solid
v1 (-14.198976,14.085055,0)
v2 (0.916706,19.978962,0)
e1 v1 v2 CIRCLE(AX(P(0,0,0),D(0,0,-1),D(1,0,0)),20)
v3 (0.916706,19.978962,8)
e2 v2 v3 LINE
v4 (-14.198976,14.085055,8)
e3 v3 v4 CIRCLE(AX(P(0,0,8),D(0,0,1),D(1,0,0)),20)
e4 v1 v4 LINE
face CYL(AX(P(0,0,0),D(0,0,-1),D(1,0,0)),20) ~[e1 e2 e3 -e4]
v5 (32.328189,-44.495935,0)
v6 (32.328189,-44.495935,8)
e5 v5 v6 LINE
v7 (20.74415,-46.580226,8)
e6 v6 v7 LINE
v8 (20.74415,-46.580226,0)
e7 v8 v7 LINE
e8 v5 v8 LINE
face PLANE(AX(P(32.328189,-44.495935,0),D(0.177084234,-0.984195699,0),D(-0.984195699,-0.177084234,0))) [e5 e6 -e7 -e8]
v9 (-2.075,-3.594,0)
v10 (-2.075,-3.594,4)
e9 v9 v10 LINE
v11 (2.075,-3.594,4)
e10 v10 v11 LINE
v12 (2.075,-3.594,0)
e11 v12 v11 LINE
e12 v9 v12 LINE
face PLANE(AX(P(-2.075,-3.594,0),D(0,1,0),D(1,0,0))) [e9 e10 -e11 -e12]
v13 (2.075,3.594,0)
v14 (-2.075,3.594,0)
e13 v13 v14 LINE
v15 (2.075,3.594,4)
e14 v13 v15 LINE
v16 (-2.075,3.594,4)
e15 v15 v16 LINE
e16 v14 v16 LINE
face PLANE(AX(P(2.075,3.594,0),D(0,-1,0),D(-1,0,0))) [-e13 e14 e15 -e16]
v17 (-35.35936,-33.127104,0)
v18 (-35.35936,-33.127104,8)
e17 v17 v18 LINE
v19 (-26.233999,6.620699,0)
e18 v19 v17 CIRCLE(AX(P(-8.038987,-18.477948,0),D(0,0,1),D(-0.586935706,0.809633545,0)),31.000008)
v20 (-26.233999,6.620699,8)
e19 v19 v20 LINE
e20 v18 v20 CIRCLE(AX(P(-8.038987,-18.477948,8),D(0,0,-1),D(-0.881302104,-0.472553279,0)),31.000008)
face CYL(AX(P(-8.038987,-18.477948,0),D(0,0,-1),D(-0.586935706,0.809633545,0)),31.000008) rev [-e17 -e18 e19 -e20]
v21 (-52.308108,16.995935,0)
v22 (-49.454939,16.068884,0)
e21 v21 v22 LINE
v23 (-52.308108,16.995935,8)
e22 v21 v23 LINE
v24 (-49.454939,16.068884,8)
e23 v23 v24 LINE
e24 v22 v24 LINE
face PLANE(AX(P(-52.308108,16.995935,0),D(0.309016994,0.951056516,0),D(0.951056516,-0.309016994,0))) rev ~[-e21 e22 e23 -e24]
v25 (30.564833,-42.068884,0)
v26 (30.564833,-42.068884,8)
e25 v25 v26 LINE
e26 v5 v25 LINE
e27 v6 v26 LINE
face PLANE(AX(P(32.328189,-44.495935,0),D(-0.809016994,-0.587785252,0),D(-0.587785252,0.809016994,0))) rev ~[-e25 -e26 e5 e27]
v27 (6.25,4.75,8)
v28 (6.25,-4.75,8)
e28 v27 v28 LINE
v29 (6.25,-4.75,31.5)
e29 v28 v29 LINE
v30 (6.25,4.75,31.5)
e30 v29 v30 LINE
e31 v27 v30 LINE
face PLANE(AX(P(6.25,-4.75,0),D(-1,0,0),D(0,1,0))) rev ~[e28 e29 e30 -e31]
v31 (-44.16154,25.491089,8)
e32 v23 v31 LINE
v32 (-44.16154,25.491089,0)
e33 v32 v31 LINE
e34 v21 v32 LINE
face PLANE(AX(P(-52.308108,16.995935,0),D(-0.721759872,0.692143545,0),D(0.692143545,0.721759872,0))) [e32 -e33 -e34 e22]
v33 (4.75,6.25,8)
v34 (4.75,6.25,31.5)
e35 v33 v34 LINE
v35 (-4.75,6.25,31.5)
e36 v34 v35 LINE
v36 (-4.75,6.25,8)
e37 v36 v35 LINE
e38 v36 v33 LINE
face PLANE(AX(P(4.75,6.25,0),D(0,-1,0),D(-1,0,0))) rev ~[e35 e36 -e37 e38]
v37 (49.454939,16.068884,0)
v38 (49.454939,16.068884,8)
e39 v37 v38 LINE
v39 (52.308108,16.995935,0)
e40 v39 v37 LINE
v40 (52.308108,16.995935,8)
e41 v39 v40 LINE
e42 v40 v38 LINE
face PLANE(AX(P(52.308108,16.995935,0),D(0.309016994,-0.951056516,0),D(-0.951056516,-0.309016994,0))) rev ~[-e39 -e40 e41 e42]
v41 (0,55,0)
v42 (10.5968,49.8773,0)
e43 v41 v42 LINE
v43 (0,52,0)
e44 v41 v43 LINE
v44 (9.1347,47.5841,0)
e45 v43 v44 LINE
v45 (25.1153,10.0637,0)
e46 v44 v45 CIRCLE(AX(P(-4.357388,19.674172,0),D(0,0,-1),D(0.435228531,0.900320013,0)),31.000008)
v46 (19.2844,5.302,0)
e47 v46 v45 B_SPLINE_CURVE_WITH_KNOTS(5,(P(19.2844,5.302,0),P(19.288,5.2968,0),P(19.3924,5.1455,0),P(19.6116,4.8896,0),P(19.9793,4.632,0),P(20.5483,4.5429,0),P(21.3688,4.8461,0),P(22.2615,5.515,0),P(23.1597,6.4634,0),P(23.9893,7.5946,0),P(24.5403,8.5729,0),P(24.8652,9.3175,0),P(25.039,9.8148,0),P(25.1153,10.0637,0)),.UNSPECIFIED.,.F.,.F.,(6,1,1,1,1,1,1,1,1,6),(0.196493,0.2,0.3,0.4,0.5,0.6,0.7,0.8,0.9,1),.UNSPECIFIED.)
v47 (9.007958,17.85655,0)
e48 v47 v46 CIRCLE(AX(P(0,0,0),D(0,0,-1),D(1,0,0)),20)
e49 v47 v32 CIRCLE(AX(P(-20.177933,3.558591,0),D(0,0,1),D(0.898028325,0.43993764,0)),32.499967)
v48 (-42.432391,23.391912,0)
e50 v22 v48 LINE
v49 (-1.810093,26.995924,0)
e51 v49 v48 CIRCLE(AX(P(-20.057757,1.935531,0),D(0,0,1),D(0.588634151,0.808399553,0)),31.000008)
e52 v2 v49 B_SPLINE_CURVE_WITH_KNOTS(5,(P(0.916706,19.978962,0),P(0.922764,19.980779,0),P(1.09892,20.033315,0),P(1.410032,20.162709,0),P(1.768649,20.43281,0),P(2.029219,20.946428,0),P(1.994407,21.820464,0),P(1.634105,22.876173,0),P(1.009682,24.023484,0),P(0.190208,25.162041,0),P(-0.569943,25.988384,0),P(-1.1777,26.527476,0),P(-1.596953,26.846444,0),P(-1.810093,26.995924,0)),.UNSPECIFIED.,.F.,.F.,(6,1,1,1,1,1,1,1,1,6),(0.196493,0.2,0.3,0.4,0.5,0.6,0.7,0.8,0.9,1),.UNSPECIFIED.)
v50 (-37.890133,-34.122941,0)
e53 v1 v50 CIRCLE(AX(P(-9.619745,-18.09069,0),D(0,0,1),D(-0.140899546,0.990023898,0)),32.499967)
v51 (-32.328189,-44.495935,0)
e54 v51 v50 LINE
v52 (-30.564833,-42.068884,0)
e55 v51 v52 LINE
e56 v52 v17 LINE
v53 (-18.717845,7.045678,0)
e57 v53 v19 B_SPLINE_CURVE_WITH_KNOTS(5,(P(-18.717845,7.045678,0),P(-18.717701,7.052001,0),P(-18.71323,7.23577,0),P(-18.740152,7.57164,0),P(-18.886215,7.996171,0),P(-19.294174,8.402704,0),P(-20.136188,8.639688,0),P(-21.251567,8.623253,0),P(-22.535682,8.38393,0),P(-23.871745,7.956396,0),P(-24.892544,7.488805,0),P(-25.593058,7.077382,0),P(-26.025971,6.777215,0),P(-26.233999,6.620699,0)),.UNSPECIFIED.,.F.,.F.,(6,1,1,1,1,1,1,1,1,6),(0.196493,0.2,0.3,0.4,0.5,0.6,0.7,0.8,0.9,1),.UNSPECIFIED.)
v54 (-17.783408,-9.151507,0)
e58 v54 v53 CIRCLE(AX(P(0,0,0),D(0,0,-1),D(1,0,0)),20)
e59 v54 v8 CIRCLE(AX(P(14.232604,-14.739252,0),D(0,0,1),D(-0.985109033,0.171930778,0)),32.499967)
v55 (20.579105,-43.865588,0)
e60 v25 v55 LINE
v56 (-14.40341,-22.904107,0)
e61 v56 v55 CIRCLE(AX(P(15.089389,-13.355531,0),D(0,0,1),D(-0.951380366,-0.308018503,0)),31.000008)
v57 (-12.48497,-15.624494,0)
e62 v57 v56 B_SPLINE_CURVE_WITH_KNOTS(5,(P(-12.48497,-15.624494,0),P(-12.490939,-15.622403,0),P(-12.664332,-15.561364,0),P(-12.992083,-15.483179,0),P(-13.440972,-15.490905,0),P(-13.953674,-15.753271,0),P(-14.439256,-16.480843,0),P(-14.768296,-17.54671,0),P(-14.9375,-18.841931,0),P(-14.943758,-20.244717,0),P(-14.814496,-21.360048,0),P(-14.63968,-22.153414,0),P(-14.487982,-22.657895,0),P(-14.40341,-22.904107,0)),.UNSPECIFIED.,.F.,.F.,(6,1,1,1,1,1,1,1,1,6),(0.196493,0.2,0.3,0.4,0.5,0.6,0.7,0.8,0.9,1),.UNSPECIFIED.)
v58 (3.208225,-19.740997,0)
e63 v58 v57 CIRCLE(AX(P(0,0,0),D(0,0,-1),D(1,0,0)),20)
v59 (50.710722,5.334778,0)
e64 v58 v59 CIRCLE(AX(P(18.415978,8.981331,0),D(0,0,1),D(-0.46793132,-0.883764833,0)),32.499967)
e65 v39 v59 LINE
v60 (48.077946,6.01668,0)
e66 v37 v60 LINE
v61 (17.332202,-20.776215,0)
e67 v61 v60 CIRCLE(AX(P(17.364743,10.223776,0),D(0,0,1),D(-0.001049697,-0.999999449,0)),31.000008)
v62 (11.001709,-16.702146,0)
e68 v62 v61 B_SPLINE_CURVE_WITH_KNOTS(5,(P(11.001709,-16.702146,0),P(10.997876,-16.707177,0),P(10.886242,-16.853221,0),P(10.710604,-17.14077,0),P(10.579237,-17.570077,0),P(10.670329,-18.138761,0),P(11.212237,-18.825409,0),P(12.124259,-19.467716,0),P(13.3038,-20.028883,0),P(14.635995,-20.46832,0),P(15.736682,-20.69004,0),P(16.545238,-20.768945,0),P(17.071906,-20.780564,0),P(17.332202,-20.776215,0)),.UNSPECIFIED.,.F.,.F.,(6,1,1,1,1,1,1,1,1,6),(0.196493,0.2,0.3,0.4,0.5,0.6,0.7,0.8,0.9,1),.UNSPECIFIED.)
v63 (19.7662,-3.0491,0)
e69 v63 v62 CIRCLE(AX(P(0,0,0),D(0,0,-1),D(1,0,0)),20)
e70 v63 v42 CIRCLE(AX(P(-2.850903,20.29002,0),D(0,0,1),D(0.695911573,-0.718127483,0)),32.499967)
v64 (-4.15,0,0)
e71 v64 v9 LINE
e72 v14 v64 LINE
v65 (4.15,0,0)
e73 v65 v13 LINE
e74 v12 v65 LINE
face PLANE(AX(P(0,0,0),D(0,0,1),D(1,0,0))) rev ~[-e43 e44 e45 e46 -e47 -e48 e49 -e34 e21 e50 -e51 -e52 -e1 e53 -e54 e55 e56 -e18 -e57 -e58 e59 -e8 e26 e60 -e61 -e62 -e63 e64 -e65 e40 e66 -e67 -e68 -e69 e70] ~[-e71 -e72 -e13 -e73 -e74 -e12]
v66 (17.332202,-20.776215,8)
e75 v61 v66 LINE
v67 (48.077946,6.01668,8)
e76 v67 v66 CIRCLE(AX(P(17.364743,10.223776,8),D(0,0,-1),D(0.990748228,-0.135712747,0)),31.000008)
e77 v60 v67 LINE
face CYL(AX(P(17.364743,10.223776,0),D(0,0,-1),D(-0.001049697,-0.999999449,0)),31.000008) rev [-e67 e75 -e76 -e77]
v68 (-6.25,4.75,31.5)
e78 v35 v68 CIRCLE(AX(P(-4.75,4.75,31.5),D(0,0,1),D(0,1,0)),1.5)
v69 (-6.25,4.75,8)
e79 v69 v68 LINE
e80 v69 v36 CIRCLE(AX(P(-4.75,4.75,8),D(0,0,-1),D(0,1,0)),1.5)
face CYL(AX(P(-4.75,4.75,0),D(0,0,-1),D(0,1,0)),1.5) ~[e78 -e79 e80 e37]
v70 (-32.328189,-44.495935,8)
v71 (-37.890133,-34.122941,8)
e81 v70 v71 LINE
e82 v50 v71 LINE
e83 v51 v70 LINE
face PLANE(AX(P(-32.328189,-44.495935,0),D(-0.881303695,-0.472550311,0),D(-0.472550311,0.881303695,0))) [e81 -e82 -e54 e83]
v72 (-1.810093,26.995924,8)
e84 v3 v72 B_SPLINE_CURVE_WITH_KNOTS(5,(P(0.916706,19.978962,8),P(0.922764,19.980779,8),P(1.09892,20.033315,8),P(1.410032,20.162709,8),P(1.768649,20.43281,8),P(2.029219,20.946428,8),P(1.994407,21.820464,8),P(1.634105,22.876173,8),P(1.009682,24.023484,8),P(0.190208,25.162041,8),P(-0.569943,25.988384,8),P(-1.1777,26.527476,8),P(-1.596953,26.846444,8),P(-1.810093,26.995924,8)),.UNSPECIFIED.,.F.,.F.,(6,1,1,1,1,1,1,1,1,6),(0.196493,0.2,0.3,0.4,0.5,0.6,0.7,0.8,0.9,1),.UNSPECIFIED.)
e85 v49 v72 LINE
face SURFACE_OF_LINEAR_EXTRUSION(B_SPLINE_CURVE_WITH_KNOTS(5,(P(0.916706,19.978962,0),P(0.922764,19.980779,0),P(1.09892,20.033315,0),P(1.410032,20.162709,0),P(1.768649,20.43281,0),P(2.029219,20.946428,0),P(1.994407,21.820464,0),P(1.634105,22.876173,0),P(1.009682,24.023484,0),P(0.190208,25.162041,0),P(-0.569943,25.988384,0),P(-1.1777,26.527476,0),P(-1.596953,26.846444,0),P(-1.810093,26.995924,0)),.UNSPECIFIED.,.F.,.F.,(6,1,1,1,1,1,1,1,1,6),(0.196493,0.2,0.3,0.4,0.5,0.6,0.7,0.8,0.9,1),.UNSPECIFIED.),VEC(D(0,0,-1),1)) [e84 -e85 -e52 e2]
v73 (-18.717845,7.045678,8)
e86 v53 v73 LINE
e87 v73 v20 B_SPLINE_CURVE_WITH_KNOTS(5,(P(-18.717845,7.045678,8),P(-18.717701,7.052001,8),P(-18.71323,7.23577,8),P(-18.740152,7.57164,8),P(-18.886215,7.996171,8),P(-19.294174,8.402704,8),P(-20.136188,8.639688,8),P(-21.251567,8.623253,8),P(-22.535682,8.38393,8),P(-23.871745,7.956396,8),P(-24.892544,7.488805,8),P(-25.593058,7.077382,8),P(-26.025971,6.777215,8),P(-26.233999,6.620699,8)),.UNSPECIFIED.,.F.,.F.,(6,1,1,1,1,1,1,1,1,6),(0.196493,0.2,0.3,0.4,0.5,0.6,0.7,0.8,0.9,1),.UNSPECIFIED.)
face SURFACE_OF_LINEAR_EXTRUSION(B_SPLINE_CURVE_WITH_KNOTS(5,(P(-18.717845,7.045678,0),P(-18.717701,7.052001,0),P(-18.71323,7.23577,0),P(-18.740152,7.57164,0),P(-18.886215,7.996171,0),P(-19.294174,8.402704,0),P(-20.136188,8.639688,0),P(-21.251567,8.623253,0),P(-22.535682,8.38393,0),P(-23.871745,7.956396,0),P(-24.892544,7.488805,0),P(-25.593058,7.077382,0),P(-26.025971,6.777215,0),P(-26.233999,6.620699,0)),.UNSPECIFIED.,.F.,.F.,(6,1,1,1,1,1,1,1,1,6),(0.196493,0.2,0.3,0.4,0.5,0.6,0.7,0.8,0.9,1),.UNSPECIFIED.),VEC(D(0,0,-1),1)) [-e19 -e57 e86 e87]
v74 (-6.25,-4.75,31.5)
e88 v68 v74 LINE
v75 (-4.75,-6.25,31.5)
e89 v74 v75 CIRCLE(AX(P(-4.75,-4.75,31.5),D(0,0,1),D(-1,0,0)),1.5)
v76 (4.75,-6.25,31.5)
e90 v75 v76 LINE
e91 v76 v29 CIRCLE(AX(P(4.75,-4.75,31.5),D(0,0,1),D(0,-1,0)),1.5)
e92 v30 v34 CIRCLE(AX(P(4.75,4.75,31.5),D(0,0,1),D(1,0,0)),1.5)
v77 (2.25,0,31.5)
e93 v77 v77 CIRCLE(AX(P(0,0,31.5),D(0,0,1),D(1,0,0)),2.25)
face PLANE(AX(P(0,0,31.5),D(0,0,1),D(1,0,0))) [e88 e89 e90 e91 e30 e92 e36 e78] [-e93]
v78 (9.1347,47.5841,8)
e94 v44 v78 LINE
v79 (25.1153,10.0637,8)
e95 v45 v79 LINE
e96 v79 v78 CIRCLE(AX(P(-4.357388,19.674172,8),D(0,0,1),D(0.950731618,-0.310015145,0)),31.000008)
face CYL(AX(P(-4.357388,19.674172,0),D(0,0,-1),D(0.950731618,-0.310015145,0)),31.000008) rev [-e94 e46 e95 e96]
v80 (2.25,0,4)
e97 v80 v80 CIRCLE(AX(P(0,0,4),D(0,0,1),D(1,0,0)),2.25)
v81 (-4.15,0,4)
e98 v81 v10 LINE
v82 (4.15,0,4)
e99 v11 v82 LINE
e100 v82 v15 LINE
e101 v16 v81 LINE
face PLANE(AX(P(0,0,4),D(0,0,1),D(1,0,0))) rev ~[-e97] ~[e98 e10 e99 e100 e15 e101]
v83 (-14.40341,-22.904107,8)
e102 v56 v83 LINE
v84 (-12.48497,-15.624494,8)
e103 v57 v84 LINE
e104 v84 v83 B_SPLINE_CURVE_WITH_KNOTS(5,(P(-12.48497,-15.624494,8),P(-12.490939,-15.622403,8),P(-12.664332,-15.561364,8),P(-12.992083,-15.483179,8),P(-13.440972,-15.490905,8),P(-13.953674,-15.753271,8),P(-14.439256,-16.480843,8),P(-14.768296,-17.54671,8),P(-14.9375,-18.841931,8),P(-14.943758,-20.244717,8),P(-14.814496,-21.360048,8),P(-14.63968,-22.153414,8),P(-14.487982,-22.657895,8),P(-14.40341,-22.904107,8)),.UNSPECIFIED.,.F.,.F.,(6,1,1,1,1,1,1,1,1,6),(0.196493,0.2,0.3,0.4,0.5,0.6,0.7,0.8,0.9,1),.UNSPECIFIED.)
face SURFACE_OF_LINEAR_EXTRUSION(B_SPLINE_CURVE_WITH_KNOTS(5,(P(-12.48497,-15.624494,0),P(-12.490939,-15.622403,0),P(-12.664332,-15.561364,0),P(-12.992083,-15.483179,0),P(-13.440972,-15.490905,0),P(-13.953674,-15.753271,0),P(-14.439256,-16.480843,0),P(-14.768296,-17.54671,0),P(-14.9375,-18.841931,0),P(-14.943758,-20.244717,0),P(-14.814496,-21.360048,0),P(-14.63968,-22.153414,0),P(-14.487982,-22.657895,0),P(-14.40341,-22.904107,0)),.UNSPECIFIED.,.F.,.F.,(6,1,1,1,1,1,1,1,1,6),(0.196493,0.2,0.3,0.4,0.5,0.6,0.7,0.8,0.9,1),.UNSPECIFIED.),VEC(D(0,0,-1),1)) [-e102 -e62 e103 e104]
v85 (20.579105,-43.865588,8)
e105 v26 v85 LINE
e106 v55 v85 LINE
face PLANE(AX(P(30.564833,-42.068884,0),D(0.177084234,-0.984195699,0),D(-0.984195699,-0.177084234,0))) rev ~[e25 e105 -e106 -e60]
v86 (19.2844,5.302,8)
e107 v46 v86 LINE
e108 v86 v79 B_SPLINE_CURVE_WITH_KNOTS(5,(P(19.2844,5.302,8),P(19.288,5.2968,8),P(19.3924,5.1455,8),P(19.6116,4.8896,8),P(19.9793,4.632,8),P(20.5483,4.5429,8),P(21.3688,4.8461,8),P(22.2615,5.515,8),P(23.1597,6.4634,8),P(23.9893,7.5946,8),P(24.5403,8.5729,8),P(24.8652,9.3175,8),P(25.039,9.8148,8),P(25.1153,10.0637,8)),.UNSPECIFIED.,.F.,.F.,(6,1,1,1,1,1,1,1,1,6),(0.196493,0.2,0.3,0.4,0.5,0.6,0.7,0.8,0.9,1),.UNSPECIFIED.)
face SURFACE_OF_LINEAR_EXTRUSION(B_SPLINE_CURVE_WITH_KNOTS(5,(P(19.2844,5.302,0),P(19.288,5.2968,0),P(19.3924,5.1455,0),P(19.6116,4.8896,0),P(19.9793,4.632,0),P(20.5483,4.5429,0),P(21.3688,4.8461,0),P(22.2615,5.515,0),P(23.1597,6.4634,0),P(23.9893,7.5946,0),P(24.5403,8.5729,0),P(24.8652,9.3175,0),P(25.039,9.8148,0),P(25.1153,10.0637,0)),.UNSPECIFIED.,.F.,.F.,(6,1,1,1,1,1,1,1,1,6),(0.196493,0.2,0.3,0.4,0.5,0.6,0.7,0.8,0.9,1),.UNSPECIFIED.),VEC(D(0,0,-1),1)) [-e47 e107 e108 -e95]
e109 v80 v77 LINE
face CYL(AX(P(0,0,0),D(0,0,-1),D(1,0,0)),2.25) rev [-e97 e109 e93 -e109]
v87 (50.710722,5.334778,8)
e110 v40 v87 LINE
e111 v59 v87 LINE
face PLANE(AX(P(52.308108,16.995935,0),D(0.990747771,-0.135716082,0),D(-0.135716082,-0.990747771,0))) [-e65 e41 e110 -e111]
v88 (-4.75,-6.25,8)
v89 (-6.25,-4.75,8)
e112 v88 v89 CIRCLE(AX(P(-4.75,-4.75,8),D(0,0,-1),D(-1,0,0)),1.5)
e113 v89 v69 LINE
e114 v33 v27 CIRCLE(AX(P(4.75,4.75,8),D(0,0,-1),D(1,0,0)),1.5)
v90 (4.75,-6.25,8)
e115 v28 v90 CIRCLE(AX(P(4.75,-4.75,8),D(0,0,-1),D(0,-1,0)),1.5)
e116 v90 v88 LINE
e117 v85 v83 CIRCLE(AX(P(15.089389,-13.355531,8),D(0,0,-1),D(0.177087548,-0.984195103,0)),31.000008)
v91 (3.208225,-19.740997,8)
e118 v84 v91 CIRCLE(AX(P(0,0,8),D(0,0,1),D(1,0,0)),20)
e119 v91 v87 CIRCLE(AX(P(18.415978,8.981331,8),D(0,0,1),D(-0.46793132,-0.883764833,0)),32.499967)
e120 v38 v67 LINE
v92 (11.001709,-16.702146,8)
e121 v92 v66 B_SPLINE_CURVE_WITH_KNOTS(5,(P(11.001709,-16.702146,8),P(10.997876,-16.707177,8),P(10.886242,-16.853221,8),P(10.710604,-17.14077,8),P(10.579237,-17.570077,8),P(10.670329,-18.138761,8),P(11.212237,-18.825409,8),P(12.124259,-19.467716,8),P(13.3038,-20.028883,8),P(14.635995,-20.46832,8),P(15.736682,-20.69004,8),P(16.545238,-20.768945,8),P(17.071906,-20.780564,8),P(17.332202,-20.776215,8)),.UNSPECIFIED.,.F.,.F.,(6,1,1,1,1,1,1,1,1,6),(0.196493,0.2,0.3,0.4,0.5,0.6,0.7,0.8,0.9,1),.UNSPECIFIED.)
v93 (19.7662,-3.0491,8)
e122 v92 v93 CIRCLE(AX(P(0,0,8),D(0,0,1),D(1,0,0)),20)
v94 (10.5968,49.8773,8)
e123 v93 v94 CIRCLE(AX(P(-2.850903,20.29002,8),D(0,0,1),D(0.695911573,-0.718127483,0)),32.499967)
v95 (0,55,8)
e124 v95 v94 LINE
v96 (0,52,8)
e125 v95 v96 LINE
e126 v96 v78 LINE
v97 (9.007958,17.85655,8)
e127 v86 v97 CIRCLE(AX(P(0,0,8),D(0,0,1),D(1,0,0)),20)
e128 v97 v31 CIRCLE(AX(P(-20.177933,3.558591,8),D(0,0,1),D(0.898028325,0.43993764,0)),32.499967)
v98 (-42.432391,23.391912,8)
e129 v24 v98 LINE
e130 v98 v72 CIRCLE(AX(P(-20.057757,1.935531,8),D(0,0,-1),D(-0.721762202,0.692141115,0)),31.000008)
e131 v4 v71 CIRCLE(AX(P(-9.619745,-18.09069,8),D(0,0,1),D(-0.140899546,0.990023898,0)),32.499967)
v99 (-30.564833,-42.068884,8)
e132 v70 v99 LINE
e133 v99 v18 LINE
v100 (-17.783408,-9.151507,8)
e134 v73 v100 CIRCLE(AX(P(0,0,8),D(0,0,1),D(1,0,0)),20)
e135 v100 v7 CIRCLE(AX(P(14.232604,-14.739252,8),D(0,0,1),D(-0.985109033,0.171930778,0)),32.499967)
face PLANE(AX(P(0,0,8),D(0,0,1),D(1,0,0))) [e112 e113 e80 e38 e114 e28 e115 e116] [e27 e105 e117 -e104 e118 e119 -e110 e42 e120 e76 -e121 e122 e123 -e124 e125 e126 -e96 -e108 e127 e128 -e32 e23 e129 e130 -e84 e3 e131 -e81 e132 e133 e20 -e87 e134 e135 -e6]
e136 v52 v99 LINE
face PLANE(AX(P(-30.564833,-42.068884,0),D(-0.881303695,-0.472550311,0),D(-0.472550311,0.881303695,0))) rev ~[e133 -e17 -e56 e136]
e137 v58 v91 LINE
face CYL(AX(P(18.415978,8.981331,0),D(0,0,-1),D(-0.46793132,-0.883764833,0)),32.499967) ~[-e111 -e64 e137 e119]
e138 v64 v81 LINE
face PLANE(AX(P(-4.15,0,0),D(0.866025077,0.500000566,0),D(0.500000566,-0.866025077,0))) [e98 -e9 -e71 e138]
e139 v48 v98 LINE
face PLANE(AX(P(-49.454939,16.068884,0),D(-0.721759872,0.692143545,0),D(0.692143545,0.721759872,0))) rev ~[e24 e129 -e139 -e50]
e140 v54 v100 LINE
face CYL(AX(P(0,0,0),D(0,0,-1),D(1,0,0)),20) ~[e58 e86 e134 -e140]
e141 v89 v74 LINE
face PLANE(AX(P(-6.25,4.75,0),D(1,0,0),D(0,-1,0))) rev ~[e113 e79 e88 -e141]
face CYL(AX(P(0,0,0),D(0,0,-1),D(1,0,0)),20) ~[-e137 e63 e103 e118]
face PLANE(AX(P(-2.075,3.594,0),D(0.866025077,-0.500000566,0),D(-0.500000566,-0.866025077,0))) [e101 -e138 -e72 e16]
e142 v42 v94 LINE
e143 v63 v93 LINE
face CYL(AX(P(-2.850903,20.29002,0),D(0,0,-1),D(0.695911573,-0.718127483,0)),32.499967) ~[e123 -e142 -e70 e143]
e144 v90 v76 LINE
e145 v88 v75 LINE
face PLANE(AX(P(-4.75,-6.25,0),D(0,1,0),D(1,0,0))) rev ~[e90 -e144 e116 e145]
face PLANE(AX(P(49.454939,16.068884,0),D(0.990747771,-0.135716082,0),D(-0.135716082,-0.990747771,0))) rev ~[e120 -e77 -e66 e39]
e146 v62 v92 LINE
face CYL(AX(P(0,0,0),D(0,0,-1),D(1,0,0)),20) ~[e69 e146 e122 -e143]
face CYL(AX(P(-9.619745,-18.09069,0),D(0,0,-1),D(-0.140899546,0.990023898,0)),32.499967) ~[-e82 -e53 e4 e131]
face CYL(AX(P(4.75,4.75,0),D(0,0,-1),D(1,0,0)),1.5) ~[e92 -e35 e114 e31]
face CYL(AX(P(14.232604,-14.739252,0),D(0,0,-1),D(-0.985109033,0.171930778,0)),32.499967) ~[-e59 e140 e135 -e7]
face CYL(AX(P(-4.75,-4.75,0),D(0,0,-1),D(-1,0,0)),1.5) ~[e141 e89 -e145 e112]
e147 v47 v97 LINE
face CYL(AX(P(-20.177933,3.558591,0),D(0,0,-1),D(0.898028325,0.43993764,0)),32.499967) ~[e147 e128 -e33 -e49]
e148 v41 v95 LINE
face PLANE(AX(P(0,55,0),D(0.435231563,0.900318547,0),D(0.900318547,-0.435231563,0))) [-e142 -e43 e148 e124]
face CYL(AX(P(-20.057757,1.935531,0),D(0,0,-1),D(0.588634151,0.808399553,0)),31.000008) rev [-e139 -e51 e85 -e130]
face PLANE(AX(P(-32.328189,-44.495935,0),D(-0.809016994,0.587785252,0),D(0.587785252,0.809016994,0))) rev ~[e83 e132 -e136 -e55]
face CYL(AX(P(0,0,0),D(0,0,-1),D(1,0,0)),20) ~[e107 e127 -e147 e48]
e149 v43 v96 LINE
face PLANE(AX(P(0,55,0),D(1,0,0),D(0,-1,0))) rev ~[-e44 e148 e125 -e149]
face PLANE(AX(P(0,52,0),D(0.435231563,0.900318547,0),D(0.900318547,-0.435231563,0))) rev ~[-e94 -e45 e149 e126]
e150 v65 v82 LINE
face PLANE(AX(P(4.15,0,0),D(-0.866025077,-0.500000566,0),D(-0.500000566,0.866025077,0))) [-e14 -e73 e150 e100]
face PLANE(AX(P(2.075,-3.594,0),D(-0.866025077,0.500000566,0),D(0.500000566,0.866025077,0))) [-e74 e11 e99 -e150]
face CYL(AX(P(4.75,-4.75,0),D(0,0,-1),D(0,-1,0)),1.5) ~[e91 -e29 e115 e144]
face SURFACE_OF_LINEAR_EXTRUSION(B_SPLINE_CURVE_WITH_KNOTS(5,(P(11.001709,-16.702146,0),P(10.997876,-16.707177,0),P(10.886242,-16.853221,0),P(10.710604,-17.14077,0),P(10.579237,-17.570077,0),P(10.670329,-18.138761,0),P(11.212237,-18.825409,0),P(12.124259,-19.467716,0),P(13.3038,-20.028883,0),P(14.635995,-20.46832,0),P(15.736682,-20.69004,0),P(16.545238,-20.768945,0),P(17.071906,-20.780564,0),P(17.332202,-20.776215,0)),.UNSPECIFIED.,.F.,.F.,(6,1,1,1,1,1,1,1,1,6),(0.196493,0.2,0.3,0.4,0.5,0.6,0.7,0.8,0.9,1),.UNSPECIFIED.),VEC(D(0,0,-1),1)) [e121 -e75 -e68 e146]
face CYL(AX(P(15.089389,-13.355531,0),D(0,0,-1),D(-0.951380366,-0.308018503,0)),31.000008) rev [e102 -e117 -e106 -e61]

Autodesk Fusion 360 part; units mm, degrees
sketch "bottom" plane through (0, 0, 0) normal (0, 0, 1) x (1, 0, 0)
  circle A0 centre (0, 0) radius 2.25
  line L0 (4.15, 0) -> (2.075, 3.594)
  line L1 (2.075, 3.594) -> (-2.075, 3.594)
  line L2 (-2.075, 3.594) -> (-4.15, 0)
  line L3 (-4.15, 0) -> (-2.075, -3.594)
  line L4 (-2.075, -3.594) -> (2.075, -3.594)
  line L5 (2.075, -3.594) -> (4.15, 0)
  line L6 (4.75, 6.25) -> (-4.75, 6.25)
  line L7 (-6.25, 4.75) -> (-6.25, -4.75)
  line L8 (-4.75, -6.25) -> (4.75, -6.25)
  line L9 (6.25, -4.75) -> (6.25, 4.75)
  line L10 (6.25, 6.25) -> (-6.25, -6.25) construction
  line L11 (-6.25, 6.25) -> (6.25, -6.25) construction
  arc A1 (4.75, -6.25) -> (6.25, -4.75) centre (4.75, -4.75) ccw
  arc A2 (-6.25, -4.75) -> (-4.75, -6.25) centre (-4.75, -4.75) ccw
  arc A3 (-4.75, 6.25) -> (-6.25, 4.75) centre (-4.75, 4.75) ccw
  arc A4 (6.25, 4.75) -> (4.75, 6.25) centre (4.75, 4.75) ccw
  circle A5 centre (0, 0) radius 20
  circle A6 centre (0, 0) radius 55
  line L12 (0, 55) -> (0, 52)
  line L13 (0, 55) -> (10.5968, 49.8773)
  line L14 (0, 55) -> (11.77, 55) construction
  line L15 (0, 52) -> (10.5968, 46.8773)
  arc A7 (25.1153, 10.0637) -> (9.1347, 47.5841) centre (-4.3574, 19.6742) ccw
  arc A8 (19.7662, -3.0491) -> (10.5968, 49.8773) centre (-2.8509, 20.29) ccw
  spline S0 degree 5 poles (19.2844, 5.302) (19.288, 5.2968) (19.3924, 5.1455) (19.6116, 4.8896) (19.9793, 4.632) (20.5483, 4.5429) (21.3688, 4.8461) (22.2615, 5.515) (23.1597, 6.4634) (23.9893, 7.5946) (24.5403, 8.5729) (24.8652, 9.3175) (25.039, 9.8148) (25.1153, 10.0637) knots 0.196493 0.196493 0.196493 0.196493 0.196493 0.196493 0.2 0.3 0.4 0.5 0.6 0.7 0.8 0.9 1 1 1 1 1 1
  line L16 (18.6573, 6.2172) -> (19.9116, 4.3867)
  line L17 (24.8256, 9.1182) -> (25.4049, 11.0092)
  point P0 (20.8497, 4.7036)
  dimension "d1" = 4.5
  dimension "d2" = 4.15
  dimension "d3" = 12.5
  dimension "d4" = 12.5
  dimension "d5" = 1.5
  dimension "d6" = 1.5
  dimension "d7" = 1.5
  dimension "d8" = 40
  dimension "d9" = 110
  dimension "d10" = 3
  dimension "d11" = 25.8
  dimension "d12" = 11.77
  dimension "d13" = 11.77
  dimension "d14" = 62
  dimension "d16" = 65
extrude "Extrude2" add sketch "bottom" along normal blind 8 contours A5 L12 L13 L15 A7 A8 S0 L17 makes body 1
pattern_circular "C-Pattern1" count 5 over 360 about axis through (0, 0, 0) along (0, 0, 1) of "Extrude2" makes body 2 makes body 3 makes body 4 makes body 5
extrude "Extrude3" add sketch "bottom" along normal blind 8 contours L0 L1 L2 L3 L4 L5 | L6 L7 L8 L9 A1 A2 A3 A4 | A5 bodies 1 2 3 4 5
extrude "Extrude4" add sketch "bottom" along normal blind 31.5 contours L0 L1 L2 L3 L4 L5 | L6 L7 L8 L9 A1 A2 A3 A4 bodies 1
extrude "Extrude5" cut sketch "bottom" along normal blind 4 contours L0 L1 L2 L3 L4 L5 bodies 1
equation "d2 = ( 8.3 / 2 ) * 1 mm"
equation "d11 = 90 deg - 64.2 deg"
